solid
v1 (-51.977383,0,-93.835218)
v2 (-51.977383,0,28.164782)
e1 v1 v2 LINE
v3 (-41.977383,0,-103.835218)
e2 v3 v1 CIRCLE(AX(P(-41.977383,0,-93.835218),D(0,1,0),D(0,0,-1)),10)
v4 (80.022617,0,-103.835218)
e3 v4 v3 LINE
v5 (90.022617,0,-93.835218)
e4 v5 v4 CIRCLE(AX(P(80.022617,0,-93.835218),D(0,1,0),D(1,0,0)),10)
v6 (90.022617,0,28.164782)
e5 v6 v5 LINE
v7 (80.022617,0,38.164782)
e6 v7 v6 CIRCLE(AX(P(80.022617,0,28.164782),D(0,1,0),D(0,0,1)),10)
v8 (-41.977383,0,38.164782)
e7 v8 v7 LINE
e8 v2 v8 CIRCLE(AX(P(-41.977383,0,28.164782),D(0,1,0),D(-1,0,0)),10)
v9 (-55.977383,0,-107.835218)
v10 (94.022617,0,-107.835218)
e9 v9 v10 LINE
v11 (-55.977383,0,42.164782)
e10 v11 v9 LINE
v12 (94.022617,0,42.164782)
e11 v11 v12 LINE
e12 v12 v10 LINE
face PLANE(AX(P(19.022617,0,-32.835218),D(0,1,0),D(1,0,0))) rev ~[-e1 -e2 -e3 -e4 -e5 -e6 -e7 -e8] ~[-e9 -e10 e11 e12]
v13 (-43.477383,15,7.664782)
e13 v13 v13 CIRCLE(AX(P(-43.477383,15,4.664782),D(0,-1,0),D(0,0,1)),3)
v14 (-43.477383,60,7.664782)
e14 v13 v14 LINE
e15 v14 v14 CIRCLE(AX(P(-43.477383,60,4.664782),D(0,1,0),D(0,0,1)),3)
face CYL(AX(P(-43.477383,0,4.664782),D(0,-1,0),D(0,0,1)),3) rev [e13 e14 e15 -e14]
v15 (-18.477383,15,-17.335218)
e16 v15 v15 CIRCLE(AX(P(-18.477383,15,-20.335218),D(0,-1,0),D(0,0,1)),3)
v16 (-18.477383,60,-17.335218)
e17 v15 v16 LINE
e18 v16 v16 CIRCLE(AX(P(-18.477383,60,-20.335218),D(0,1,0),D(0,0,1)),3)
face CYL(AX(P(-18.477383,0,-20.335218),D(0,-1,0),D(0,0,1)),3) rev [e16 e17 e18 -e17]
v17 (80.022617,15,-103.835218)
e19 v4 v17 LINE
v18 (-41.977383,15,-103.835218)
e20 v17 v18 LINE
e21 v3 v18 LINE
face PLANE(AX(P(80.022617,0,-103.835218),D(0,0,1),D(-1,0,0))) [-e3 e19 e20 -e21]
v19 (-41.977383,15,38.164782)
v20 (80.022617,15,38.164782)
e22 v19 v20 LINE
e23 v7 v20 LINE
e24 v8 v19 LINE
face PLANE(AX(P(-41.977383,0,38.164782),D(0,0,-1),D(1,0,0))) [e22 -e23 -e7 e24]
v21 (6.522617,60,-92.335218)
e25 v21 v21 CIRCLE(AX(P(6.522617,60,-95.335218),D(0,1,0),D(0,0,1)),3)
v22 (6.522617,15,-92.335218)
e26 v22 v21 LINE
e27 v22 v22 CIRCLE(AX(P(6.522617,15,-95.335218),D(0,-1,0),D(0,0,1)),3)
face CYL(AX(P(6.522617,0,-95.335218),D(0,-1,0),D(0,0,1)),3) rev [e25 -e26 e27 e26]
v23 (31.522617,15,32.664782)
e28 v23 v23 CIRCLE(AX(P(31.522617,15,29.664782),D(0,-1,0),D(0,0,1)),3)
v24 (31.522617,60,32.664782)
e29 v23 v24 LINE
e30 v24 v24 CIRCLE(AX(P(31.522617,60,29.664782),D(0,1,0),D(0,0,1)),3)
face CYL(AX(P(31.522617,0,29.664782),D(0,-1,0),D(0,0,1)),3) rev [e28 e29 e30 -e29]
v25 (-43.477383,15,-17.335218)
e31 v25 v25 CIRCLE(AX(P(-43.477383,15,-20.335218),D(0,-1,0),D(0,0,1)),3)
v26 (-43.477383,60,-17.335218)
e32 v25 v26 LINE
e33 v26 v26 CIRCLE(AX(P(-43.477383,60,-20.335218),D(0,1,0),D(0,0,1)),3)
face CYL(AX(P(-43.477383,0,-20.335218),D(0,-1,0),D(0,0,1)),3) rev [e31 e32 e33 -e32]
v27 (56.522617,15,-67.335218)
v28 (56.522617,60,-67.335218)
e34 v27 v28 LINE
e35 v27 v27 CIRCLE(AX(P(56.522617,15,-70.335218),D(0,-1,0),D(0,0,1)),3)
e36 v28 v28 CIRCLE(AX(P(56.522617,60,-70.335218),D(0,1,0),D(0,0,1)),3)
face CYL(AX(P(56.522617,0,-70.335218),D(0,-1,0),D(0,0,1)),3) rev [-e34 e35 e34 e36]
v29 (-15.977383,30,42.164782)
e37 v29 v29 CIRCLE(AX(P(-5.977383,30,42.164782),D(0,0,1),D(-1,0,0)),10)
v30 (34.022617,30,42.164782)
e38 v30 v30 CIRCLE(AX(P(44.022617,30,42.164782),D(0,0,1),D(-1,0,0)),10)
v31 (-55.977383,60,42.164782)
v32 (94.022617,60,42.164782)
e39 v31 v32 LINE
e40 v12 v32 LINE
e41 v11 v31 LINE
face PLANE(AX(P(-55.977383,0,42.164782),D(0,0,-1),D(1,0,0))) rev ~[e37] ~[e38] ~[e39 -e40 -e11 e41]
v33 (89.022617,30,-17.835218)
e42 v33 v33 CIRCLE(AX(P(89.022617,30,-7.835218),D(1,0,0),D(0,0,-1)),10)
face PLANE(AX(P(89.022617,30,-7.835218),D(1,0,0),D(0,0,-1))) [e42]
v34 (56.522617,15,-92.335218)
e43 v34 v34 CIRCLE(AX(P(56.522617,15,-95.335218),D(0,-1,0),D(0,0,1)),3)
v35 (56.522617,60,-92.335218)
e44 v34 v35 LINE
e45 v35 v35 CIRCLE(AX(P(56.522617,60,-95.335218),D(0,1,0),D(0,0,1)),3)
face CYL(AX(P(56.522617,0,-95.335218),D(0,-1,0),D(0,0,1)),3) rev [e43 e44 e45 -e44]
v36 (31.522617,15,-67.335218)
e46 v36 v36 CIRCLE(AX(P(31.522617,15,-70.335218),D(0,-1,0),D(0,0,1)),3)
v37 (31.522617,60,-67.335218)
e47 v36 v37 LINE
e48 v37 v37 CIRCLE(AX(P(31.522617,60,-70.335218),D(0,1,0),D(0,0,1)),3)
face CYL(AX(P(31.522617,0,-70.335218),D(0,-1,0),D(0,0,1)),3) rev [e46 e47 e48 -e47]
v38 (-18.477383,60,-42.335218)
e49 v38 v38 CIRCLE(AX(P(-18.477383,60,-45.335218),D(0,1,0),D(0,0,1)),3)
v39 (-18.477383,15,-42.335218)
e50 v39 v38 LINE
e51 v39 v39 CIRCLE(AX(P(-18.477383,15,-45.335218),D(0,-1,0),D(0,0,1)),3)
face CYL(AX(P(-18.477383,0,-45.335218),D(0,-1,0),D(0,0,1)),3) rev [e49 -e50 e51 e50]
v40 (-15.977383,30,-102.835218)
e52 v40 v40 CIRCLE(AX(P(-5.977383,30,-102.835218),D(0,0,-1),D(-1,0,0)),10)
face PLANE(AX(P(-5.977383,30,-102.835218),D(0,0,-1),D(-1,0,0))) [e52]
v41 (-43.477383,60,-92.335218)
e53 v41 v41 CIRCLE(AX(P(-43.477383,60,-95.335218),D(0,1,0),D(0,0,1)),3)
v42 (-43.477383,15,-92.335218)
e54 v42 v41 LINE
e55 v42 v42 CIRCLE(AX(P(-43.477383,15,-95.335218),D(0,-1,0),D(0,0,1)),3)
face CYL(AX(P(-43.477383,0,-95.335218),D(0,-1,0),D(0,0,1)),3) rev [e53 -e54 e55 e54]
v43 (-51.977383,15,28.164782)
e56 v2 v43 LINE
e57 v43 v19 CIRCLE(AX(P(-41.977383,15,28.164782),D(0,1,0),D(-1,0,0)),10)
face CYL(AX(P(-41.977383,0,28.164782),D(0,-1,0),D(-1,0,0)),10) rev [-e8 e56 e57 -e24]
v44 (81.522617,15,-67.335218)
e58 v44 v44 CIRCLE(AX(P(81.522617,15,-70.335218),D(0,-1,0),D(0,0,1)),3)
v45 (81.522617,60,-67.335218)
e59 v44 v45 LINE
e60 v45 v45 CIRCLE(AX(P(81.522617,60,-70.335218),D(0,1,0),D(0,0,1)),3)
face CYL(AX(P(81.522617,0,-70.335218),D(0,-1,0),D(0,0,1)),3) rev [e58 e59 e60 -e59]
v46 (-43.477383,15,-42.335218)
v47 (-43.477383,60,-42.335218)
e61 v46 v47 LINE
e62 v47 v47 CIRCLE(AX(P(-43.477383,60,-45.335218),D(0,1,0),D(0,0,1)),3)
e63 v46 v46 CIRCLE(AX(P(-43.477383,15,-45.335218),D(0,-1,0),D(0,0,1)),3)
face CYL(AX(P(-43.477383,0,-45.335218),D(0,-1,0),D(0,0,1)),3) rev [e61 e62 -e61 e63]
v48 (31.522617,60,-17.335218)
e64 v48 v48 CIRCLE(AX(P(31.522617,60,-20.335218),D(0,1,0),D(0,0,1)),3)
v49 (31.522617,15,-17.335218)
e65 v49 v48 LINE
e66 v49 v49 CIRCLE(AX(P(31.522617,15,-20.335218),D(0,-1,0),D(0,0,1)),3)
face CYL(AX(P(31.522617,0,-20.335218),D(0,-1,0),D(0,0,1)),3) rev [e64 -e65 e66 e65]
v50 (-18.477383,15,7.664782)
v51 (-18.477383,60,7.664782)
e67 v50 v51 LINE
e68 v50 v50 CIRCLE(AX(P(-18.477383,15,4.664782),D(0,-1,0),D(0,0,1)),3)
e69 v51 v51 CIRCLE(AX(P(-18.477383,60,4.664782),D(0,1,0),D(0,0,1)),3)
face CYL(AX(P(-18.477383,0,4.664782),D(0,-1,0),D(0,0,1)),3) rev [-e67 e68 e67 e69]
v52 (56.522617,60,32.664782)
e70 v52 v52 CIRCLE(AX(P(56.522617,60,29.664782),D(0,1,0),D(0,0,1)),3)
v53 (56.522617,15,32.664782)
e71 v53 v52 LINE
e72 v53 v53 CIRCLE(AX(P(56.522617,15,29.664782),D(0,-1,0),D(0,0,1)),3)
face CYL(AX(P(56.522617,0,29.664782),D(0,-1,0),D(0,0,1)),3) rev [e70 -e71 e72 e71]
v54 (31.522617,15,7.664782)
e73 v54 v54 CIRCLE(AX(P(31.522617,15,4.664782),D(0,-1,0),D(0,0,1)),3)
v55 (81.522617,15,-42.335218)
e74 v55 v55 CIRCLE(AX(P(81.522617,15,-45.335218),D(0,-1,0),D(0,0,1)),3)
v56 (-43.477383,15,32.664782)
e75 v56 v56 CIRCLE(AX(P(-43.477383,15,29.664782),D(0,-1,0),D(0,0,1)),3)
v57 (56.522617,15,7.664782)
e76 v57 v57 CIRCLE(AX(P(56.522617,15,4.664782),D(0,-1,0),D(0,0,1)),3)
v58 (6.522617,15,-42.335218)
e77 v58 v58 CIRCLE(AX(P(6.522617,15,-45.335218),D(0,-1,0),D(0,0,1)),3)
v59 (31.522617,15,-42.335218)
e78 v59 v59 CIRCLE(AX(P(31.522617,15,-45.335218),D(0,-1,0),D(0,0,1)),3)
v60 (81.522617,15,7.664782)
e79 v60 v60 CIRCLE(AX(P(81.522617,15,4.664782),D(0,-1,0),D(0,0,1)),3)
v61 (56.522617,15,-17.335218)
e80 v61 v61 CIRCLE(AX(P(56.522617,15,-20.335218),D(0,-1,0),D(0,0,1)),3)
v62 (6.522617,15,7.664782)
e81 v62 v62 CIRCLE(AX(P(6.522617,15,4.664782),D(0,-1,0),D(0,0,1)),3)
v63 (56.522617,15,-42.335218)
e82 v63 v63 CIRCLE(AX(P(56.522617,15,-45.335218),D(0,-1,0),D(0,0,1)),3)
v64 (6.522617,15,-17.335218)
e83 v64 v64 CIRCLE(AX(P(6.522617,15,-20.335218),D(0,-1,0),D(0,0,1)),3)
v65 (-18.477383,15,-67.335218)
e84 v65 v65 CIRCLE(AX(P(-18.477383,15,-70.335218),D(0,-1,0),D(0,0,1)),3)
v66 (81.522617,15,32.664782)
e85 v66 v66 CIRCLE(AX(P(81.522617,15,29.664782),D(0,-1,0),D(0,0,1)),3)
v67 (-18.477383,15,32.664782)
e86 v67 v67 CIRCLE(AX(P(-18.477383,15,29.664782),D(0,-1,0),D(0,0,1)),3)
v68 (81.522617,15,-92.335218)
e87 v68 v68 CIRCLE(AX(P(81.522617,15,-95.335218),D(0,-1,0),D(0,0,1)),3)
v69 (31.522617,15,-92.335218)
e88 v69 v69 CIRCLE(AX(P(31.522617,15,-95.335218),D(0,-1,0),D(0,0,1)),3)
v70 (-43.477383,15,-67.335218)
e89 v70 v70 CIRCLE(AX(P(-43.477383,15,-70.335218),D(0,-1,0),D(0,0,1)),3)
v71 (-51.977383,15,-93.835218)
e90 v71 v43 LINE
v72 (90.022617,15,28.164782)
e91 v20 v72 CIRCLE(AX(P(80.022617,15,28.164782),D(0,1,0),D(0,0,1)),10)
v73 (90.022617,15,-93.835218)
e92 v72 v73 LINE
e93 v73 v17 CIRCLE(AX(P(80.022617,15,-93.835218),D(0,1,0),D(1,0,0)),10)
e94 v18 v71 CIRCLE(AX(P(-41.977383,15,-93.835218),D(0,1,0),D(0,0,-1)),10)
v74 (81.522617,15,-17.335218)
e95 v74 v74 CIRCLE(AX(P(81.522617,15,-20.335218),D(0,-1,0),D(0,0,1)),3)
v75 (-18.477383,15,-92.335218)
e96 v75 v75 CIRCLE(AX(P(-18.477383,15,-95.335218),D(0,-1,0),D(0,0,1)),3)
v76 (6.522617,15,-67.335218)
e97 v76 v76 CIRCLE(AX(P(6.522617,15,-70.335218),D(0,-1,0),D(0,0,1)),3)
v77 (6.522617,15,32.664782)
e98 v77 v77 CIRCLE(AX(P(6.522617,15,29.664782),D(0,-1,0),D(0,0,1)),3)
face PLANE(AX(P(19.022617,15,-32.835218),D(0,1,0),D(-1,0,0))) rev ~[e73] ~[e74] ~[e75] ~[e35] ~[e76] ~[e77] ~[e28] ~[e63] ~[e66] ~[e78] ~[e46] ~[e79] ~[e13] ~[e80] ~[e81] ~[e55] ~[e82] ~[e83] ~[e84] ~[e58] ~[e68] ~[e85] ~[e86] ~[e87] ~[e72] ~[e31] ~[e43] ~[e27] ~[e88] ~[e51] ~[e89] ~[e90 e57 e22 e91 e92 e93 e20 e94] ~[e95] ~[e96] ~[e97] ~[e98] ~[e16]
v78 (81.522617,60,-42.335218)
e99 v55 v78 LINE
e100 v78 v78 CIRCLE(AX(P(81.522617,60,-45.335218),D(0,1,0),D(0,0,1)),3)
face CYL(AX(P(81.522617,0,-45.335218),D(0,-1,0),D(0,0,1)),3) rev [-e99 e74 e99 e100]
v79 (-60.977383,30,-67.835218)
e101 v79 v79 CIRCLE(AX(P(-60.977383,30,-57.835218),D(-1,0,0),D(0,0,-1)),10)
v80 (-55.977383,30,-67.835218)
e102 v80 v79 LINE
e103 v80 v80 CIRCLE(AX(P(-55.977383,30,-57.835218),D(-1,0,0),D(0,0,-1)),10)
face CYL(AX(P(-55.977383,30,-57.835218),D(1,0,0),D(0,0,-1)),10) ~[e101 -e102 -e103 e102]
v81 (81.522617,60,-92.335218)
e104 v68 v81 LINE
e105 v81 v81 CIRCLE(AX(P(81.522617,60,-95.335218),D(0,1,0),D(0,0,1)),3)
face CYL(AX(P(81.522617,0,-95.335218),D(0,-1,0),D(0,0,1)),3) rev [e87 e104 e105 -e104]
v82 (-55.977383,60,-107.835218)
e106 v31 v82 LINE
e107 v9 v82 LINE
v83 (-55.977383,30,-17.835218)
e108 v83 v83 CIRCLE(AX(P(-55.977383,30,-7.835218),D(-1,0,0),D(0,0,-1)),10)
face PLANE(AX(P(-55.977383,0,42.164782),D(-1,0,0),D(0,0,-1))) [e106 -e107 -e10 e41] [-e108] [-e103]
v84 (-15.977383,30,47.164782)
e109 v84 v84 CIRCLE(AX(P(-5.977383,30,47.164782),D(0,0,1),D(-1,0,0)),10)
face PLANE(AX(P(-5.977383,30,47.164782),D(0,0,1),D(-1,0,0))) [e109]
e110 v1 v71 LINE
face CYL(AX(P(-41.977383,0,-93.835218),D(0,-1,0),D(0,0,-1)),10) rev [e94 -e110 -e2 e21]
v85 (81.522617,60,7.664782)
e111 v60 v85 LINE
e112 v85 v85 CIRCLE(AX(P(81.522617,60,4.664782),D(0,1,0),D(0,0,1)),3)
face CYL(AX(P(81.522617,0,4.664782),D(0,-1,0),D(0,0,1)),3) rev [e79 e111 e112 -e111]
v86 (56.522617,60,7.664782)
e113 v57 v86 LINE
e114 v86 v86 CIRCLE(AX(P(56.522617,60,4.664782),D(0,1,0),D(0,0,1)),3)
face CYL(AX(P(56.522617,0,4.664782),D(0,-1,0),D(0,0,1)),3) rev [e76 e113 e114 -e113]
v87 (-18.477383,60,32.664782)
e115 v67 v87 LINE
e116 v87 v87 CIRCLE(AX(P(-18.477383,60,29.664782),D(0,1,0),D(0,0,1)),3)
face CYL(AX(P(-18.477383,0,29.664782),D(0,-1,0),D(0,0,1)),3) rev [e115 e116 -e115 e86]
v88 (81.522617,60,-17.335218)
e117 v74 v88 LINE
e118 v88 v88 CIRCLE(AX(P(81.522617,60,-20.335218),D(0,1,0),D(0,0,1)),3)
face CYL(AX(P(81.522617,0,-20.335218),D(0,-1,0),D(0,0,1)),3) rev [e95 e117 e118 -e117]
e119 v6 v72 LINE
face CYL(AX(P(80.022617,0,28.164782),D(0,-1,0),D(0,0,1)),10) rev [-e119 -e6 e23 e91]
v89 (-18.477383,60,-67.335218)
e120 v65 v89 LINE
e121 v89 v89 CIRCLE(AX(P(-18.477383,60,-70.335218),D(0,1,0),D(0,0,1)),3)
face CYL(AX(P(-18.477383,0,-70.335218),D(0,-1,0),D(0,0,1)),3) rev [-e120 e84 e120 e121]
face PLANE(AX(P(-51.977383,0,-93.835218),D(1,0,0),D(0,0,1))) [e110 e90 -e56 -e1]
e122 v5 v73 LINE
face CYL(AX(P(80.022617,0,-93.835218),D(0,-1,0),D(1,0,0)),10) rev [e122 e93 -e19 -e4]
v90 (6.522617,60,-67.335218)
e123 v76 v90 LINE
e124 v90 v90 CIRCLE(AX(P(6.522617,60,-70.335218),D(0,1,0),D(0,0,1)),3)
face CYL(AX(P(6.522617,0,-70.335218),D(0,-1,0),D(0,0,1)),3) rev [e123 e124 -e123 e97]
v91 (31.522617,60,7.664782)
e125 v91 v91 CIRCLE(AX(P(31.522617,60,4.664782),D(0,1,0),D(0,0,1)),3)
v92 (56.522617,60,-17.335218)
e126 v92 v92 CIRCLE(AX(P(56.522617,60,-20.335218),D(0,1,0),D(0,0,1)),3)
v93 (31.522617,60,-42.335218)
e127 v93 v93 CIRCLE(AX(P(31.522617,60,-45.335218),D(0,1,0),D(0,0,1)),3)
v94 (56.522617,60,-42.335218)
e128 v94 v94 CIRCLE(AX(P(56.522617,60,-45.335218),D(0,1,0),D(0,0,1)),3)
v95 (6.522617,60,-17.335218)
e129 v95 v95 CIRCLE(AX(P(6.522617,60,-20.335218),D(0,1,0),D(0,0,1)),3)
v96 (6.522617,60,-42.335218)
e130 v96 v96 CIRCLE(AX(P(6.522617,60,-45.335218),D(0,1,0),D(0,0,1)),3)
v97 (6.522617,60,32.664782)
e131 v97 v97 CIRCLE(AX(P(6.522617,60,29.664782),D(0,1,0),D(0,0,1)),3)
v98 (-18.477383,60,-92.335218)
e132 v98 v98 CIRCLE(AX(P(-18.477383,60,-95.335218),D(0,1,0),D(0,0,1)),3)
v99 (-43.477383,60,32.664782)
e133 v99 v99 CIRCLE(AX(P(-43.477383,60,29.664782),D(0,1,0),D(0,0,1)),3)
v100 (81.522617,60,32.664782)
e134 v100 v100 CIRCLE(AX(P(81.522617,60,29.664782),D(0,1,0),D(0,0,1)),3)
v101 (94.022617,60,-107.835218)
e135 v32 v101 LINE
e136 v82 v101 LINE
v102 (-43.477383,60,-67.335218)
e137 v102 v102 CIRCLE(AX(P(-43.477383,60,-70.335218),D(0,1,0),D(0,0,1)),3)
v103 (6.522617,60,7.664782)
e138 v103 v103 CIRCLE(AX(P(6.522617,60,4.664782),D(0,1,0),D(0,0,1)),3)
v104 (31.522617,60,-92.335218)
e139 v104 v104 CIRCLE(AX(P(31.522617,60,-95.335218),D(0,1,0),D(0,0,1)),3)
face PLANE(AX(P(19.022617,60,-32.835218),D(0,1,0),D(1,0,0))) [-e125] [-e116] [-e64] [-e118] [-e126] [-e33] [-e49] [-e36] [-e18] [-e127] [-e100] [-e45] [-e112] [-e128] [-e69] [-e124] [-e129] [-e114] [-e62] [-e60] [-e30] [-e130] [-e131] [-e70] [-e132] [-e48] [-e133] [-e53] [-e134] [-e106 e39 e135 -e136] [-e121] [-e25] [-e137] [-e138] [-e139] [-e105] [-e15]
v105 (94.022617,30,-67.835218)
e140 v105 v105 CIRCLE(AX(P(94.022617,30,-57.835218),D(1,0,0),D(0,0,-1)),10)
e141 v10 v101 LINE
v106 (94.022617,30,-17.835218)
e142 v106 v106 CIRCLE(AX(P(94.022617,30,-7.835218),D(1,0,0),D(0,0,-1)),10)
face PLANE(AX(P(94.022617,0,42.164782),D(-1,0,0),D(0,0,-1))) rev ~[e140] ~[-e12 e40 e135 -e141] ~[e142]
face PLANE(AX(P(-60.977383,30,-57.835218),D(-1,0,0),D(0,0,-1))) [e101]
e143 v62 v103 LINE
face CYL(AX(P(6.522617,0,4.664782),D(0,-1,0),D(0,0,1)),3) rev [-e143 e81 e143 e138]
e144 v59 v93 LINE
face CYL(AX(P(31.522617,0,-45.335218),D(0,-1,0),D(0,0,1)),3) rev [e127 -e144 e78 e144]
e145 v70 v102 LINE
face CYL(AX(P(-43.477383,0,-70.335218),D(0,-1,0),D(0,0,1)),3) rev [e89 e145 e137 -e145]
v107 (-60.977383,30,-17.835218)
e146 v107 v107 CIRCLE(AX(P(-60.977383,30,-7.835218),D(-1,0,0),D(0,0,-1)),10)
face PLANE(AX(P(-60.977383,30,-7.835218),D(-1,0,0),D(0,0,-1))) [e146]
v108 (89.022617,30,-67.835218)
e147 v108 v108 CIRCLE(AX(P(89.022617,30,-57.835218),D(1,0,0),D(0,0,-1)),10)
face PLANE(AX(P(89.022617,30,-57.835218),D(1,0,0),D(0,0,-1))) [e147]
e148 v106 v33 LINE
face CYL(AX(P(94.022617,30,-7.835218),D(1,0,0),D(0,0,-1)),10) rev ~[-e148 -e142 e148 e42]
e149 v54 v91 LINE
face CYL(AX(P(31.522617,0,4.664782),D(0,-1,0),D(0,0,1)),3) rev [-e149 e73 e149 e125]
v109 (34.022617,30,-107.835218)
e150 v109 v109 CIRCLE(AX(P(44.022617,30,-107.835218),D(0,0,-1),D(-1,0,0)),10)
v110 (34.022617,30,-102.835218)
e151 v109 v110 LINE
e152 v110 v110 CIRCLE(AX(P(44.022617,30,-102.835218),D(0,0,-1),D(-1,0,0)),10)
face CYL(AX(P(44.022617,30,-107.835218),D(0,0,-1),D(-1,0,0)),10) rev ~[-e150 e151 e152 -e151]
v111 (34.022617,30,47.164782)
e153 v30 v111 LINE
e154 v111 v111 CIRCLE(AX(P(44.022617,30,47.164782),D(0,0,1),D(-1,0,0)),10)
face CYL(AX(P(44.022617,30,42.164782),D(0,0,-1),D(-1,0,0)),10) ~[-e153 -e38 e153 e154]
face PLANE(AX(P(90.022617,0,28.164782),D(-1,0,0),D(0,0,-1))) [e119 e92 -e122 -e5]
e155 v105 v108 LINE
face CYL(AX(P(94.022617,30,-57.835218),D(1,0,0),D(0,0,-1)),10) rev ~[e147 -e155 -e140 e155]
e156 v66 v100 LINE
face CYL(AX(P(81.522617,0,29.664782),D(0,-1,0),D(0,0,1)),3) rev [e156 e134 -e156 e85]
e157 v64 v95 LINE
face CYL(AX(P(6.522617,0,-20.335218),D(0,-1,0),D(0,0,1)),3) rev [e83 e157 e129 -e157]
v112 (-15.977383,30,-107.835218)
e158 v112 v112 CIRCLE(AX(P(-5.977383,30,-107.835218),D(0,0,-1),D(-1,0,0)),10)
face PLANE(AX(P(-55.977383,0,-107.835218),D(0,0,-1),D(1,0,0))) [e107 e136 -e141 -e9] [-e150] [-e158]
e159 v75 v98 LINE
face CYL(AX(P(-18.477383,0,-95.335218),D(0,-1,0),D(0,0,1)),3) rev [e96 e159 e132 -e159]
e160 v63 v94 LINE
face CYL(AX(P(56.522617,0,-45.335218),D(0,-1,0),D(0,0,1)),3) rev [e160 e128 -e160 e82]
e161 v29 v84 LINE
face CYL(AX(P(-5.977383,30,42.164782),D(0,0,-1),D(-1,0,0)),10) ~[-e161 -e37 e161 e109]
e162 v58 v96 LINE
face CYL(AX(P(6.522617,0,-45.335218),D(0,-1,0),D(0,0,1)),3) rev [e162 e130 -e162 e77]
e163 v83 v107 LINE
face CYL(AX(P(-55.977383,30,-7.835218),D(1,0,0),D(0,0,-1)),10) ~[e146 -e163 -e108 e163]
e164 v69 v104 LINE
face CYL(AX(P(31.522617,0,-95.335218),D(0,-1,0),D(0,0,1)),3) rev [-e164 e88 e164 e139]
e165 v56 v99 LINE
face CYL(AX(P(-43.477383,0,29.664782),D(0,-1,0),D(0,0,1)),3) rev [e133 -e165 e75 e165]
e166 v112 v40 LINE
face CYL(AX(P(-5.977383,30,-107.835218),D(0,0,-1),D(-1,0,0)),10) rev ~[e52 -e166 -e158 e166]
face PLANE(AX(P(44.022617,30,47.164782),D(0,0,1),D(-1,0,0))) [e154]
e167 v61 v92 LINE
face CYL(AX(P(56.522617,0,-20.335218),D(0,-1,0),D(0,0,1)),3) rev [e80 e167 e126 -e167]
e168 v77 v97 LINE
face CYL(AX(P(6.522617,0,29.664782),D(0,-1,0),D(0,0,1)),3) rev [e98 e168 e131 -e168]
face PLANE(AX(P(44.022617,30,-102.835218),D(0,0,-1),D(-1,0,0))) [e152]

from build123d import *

# Parameters (mm, degrees)
SKETCH1_W           = 150
SKETCH1_H           = 150
SKETCH1_R           = 3
BOSS_EXTRUDE1_DEPTH = 60
SKETCH4_R           = 10
BOSS_EXTRUDE3_DEPTH = 8
SKETCH4_6_R         = 10
CUT_EXTRUDE1_DEPTH  = 5
SKETCH5_R           = 10
CUT_EXTRUDE2_DEPTH  = 5
SKETCH6_R           = 10
BOSS_EXTRUDE4_DEPTH = 5
SKETCH7_R           = 10
BOSS_EXTRUDE5_DEPTH = 5
CUT_EXTRUDE3_DEPTH  = 15


with BuildPart() as part:
    # Sketch1 → Boss-Extrude1 (new body)
    with BuildSketch(Plane(origin=(0, 0, 0), x_dir=(1, 0, 0), z_dir=(0, 1, 0))):
        with Locations((19.022617124, 32.835218094)):
            Rectangle(SKETCH1_W, SKETCH1_H)
        with Locations((-43.477382875, 95.335218094)):
            Circle(SKETCH1_R, mode=Mode.SUBTRACT)
        with Locations((-18.477382875, 95.335218094)):
            Circle(SKETCH1_R, mode=Mode.SUBTRACT)
        with Locations((6.522617125, 95.335218094)):
            Circle(SKETCH1_R, mode=Mode.SUBTRACT)
        with Locations((31.522617125, 95.335218094)):
            Circle(SKETCH1_R, mode=Mode.SUBTRACT)
        with Locations((56.522617125, 95.335218094)):
            Circle(SKETCH1_R, mode=Mode.SUBTRACT)
        with Locations((81.522617125, 95.335218094)):
            Circle(SKETCH1_R, mode=Mode.SUBTRACT)
        with Locations((-18.477382875, 70.335218094)):
            Circle(SKETCH1_R, mode=Mode.SUBTRACT)
        with Locations((6.522617125, 70.335218094)):
            Circle(SKETCH1_R, mode=Mode.SUBTRACT)
        with Locations((31.522617125, 70.335218094)):
            Circle(SKETCH1_R, mode=Mode.SUBTRACT)
        with Locations((56.522617125, 70.335218094)):
            Circle(SKETCH1_R, mode=Mode.SUBTRACT)
        with Locations((81.522617125, 70.335218094)):
            Circle(SKETCH1_R, mode=Mode.SUBTRACT)
        with Locations((-18.477382875, 45.335218094)):
            Circle(SKETCH1_R, mode=Mode.SUBTRACT)
        with Locations((6.522617125, 45.335218094)):
            Circle(SKETCH1_R, mode=Mode.SUBTRACT)
        with Locations((31.522617125, 45.335218094)):
            Circle(SKETCH1_R, mode=Mode.SUBTRACT)
        with Locations((56.522617125, 45.335218094)):
            Circle(SKETCH1_R, mode=Mode.SUBTRACT)
        with Locations((81.522617125, 45.335218094)):
            Circle(SKETCH1_R, mode=Mode.SUBTRACT)
        with Locations((-18.477382875, 20.335218094)):
            Circle(SKETCH1_R, mode=Mode.SUBTRACT)
        with Locations((6.522617125, 20.335218094)):
            Circle(SKETCH1_R, mode=Mode.SUBTRACT)
        with Locations((31.522617125, 20.335218094)):
            Circle(SKETCH1_R, mode=Mode.SUBTRACT)
        with Locations((56.522617125, 20.335218094)):
            Circle(SKETCH1_R, mode=Mode.SUBTRACT)
        with Locations((81.522617125, 20.335218094)):
            Circle(SKETCH1_R, mode=Mode.SUBTRACT)
        with Locations((-18.477382875, -4.664781906)):
            Circle(SKETCH1_R, mode=Mode.SUBTRACT)
        with Locations((6.522617125, -4.664781906)):
            Circle(SKETCH1_R, mode=Mode.SUBTRACT)
        with Locations((31.522617125, -4.664781906)):
            Circle(SKETCH1_R, mode=Mode.SUBTRACT)
        with Locations((56.522617125, -4.664781906)):
            Circle(SKETCH1_R, mode=Mode.SUBTRACT)
        with Locations((81.522617125, -4.664781906)):
            Circle(SKETCH1_R, mode=Mode.SUBTRACT)
        with Locations((-18.477382875, -29.664781906)):
            Circle(SKETCH1_R, mode=Mode.SUBTRACT)
        with Locations((6.522617125, -29.664781906)):
            Circle(SKETCH1_R, mode=Mode.SUBTRACT)
        with Locations((31.522617125, -29.664781906)):
            Circle(SKETCH1_R, mode=Mode.SUBTRACT)
        with Locations((56.522617125, -29.664781906)):
            Circle(SKETCH1_R, mode=Mode.SUBTRACT)
        with Locations((81.522617125, -29.664781906)):
            Circle(SKETCH1_R, mode=Mode.SUBTRACT)
        with Locations((-43.477382875, 70.335218094)):
            Circle(SKETCH1_R, mode=Mode.SUBTRACT)
        with Locations((-43.477382875, 45.335218094)):
            Circle(SKETCH1_R, mode=Mode.SUBTRACT)
        with Locations((-43.477382875, 20.335218094)):
            Circle(SKETCH1_R, mode=Mode.SUBTRACT)
        with Locations((-43.477382875, -4.664781906)):
            Circle(SKETCH1_R, mode=Mode.SUBTRACT)
        with Locations((-43.477382875, -29.664781906)):
            Circle(SKETCH1_R, mode=Mode.SUBTRACT)
    extrude(amount=BOSS_EXTRUDE1_DEPTH)

    # Sketch4 → Boss-Extrude3 (add)
    with BuildSketch(Plane(origin=(94.022617124, 0, 0), x_dir=(0, 0, -1), z_dir=(1, 0, 0))):
        with Locations((57.835218094, 30)):
            Circle(SKETCH4_R)
    extrude(amount=-BOSS_EXTRUDE3_DEPTH)

    # Sketch4<6> → Cut-Extrude1 (cut)
    with BuildSketch(Plane(origin=(94.022617124, 0, 0), x_dir=(0, 0, -1), z_dir=(1, 0, 0))):
        with Locations((7.835218094, 30)):
            Circle(SKETCH4_6_R)
        with Locations((57.835218094, 30)):
            Circle(SKETCH4_6_R)
    extrude(amount=-CUT_EXTRUDE1_DEPTH, mode=Mode.SUBTRACT)

    # Sketch5 → Cut-Extrude2 (cut)
    with BuildSketch(Plane(origin=(0, 0, -107.835218094), x_dir=(-1, 0, 0), z_dir=(0, 0, -1))):
        with Locations((-44.022617124, 30)):
            Circle(SKETCH5_R)
        with Locations((5.977382876, 30)):
            Circle(SKETCH5_R)
    extrude(amount=-CUT_EXTRUDE2_DEPTH, mode=Mode.SUBTRACT)

    # Sketch6 → Boss-Extrude4 (add)
    with BuildSketch(Plane.ZY.offset(55.977382876)):
        with Locations((-57.835218094, 30)):
            Circle(SKETCH6_R)
        with Locations((-7.835218094, 30)):
            Circle(SKETCH6_R)
    extrude(amount=BOSS_EXTRUDE4_DEPTH)

    # Sketch7 → Boss-Extrude5 (add)
    with BuildSketch(Plane.XY.offset(42.164781906)):
        with Locations((-5.977382876, 30)):
            Circle(SKETCH7_R)
        with Locations((44.022617124, 30)):
            Circle(SKETCH7_R)
    extrude(amount=BOSS_EXTRUDE5_DEPTH)

    # Sketch8 → Cut-Extrude3 (cut)
    with BuildSketch(Plane.XZ):
        with BuildLine():
            Line((-41.977382876, 38.164781906), (80.022617124, 38.164781906))
            ThreePointArc((80.022617124, 38.164781906), (87.093684936, 35.235849718), (90.022617124, 28.164781906))
            Line((90.022617124, 28.164781906), (90.022617124, -93.835218094))
            ThreePointArc((90.022617124, -93.835218094), (87.093684936, -100.906285906), (80.022617124, -103.835218094))
            Line((80.022617124, -103.835218094), (-41.977382876, -103.835218094))
            ThreePointArc((-41.977382876, -103.835218094), (-49.048450687, -100.906285906), (-51.977382876, -93.835218094))
            Line((-51.977382876, -93.835218094), (-51.977382876, 28.164781906))
            ThreePointArc((-51.977382876, 28.164781906), (-49.048450687, 35.235849718), (-41.977382876, 38.164781906))
        make_face()
    extrude(amount=-CUT_EXTRUDE3_DEPTH, mode=Mode.SUBTRACT)


solid = part.part
